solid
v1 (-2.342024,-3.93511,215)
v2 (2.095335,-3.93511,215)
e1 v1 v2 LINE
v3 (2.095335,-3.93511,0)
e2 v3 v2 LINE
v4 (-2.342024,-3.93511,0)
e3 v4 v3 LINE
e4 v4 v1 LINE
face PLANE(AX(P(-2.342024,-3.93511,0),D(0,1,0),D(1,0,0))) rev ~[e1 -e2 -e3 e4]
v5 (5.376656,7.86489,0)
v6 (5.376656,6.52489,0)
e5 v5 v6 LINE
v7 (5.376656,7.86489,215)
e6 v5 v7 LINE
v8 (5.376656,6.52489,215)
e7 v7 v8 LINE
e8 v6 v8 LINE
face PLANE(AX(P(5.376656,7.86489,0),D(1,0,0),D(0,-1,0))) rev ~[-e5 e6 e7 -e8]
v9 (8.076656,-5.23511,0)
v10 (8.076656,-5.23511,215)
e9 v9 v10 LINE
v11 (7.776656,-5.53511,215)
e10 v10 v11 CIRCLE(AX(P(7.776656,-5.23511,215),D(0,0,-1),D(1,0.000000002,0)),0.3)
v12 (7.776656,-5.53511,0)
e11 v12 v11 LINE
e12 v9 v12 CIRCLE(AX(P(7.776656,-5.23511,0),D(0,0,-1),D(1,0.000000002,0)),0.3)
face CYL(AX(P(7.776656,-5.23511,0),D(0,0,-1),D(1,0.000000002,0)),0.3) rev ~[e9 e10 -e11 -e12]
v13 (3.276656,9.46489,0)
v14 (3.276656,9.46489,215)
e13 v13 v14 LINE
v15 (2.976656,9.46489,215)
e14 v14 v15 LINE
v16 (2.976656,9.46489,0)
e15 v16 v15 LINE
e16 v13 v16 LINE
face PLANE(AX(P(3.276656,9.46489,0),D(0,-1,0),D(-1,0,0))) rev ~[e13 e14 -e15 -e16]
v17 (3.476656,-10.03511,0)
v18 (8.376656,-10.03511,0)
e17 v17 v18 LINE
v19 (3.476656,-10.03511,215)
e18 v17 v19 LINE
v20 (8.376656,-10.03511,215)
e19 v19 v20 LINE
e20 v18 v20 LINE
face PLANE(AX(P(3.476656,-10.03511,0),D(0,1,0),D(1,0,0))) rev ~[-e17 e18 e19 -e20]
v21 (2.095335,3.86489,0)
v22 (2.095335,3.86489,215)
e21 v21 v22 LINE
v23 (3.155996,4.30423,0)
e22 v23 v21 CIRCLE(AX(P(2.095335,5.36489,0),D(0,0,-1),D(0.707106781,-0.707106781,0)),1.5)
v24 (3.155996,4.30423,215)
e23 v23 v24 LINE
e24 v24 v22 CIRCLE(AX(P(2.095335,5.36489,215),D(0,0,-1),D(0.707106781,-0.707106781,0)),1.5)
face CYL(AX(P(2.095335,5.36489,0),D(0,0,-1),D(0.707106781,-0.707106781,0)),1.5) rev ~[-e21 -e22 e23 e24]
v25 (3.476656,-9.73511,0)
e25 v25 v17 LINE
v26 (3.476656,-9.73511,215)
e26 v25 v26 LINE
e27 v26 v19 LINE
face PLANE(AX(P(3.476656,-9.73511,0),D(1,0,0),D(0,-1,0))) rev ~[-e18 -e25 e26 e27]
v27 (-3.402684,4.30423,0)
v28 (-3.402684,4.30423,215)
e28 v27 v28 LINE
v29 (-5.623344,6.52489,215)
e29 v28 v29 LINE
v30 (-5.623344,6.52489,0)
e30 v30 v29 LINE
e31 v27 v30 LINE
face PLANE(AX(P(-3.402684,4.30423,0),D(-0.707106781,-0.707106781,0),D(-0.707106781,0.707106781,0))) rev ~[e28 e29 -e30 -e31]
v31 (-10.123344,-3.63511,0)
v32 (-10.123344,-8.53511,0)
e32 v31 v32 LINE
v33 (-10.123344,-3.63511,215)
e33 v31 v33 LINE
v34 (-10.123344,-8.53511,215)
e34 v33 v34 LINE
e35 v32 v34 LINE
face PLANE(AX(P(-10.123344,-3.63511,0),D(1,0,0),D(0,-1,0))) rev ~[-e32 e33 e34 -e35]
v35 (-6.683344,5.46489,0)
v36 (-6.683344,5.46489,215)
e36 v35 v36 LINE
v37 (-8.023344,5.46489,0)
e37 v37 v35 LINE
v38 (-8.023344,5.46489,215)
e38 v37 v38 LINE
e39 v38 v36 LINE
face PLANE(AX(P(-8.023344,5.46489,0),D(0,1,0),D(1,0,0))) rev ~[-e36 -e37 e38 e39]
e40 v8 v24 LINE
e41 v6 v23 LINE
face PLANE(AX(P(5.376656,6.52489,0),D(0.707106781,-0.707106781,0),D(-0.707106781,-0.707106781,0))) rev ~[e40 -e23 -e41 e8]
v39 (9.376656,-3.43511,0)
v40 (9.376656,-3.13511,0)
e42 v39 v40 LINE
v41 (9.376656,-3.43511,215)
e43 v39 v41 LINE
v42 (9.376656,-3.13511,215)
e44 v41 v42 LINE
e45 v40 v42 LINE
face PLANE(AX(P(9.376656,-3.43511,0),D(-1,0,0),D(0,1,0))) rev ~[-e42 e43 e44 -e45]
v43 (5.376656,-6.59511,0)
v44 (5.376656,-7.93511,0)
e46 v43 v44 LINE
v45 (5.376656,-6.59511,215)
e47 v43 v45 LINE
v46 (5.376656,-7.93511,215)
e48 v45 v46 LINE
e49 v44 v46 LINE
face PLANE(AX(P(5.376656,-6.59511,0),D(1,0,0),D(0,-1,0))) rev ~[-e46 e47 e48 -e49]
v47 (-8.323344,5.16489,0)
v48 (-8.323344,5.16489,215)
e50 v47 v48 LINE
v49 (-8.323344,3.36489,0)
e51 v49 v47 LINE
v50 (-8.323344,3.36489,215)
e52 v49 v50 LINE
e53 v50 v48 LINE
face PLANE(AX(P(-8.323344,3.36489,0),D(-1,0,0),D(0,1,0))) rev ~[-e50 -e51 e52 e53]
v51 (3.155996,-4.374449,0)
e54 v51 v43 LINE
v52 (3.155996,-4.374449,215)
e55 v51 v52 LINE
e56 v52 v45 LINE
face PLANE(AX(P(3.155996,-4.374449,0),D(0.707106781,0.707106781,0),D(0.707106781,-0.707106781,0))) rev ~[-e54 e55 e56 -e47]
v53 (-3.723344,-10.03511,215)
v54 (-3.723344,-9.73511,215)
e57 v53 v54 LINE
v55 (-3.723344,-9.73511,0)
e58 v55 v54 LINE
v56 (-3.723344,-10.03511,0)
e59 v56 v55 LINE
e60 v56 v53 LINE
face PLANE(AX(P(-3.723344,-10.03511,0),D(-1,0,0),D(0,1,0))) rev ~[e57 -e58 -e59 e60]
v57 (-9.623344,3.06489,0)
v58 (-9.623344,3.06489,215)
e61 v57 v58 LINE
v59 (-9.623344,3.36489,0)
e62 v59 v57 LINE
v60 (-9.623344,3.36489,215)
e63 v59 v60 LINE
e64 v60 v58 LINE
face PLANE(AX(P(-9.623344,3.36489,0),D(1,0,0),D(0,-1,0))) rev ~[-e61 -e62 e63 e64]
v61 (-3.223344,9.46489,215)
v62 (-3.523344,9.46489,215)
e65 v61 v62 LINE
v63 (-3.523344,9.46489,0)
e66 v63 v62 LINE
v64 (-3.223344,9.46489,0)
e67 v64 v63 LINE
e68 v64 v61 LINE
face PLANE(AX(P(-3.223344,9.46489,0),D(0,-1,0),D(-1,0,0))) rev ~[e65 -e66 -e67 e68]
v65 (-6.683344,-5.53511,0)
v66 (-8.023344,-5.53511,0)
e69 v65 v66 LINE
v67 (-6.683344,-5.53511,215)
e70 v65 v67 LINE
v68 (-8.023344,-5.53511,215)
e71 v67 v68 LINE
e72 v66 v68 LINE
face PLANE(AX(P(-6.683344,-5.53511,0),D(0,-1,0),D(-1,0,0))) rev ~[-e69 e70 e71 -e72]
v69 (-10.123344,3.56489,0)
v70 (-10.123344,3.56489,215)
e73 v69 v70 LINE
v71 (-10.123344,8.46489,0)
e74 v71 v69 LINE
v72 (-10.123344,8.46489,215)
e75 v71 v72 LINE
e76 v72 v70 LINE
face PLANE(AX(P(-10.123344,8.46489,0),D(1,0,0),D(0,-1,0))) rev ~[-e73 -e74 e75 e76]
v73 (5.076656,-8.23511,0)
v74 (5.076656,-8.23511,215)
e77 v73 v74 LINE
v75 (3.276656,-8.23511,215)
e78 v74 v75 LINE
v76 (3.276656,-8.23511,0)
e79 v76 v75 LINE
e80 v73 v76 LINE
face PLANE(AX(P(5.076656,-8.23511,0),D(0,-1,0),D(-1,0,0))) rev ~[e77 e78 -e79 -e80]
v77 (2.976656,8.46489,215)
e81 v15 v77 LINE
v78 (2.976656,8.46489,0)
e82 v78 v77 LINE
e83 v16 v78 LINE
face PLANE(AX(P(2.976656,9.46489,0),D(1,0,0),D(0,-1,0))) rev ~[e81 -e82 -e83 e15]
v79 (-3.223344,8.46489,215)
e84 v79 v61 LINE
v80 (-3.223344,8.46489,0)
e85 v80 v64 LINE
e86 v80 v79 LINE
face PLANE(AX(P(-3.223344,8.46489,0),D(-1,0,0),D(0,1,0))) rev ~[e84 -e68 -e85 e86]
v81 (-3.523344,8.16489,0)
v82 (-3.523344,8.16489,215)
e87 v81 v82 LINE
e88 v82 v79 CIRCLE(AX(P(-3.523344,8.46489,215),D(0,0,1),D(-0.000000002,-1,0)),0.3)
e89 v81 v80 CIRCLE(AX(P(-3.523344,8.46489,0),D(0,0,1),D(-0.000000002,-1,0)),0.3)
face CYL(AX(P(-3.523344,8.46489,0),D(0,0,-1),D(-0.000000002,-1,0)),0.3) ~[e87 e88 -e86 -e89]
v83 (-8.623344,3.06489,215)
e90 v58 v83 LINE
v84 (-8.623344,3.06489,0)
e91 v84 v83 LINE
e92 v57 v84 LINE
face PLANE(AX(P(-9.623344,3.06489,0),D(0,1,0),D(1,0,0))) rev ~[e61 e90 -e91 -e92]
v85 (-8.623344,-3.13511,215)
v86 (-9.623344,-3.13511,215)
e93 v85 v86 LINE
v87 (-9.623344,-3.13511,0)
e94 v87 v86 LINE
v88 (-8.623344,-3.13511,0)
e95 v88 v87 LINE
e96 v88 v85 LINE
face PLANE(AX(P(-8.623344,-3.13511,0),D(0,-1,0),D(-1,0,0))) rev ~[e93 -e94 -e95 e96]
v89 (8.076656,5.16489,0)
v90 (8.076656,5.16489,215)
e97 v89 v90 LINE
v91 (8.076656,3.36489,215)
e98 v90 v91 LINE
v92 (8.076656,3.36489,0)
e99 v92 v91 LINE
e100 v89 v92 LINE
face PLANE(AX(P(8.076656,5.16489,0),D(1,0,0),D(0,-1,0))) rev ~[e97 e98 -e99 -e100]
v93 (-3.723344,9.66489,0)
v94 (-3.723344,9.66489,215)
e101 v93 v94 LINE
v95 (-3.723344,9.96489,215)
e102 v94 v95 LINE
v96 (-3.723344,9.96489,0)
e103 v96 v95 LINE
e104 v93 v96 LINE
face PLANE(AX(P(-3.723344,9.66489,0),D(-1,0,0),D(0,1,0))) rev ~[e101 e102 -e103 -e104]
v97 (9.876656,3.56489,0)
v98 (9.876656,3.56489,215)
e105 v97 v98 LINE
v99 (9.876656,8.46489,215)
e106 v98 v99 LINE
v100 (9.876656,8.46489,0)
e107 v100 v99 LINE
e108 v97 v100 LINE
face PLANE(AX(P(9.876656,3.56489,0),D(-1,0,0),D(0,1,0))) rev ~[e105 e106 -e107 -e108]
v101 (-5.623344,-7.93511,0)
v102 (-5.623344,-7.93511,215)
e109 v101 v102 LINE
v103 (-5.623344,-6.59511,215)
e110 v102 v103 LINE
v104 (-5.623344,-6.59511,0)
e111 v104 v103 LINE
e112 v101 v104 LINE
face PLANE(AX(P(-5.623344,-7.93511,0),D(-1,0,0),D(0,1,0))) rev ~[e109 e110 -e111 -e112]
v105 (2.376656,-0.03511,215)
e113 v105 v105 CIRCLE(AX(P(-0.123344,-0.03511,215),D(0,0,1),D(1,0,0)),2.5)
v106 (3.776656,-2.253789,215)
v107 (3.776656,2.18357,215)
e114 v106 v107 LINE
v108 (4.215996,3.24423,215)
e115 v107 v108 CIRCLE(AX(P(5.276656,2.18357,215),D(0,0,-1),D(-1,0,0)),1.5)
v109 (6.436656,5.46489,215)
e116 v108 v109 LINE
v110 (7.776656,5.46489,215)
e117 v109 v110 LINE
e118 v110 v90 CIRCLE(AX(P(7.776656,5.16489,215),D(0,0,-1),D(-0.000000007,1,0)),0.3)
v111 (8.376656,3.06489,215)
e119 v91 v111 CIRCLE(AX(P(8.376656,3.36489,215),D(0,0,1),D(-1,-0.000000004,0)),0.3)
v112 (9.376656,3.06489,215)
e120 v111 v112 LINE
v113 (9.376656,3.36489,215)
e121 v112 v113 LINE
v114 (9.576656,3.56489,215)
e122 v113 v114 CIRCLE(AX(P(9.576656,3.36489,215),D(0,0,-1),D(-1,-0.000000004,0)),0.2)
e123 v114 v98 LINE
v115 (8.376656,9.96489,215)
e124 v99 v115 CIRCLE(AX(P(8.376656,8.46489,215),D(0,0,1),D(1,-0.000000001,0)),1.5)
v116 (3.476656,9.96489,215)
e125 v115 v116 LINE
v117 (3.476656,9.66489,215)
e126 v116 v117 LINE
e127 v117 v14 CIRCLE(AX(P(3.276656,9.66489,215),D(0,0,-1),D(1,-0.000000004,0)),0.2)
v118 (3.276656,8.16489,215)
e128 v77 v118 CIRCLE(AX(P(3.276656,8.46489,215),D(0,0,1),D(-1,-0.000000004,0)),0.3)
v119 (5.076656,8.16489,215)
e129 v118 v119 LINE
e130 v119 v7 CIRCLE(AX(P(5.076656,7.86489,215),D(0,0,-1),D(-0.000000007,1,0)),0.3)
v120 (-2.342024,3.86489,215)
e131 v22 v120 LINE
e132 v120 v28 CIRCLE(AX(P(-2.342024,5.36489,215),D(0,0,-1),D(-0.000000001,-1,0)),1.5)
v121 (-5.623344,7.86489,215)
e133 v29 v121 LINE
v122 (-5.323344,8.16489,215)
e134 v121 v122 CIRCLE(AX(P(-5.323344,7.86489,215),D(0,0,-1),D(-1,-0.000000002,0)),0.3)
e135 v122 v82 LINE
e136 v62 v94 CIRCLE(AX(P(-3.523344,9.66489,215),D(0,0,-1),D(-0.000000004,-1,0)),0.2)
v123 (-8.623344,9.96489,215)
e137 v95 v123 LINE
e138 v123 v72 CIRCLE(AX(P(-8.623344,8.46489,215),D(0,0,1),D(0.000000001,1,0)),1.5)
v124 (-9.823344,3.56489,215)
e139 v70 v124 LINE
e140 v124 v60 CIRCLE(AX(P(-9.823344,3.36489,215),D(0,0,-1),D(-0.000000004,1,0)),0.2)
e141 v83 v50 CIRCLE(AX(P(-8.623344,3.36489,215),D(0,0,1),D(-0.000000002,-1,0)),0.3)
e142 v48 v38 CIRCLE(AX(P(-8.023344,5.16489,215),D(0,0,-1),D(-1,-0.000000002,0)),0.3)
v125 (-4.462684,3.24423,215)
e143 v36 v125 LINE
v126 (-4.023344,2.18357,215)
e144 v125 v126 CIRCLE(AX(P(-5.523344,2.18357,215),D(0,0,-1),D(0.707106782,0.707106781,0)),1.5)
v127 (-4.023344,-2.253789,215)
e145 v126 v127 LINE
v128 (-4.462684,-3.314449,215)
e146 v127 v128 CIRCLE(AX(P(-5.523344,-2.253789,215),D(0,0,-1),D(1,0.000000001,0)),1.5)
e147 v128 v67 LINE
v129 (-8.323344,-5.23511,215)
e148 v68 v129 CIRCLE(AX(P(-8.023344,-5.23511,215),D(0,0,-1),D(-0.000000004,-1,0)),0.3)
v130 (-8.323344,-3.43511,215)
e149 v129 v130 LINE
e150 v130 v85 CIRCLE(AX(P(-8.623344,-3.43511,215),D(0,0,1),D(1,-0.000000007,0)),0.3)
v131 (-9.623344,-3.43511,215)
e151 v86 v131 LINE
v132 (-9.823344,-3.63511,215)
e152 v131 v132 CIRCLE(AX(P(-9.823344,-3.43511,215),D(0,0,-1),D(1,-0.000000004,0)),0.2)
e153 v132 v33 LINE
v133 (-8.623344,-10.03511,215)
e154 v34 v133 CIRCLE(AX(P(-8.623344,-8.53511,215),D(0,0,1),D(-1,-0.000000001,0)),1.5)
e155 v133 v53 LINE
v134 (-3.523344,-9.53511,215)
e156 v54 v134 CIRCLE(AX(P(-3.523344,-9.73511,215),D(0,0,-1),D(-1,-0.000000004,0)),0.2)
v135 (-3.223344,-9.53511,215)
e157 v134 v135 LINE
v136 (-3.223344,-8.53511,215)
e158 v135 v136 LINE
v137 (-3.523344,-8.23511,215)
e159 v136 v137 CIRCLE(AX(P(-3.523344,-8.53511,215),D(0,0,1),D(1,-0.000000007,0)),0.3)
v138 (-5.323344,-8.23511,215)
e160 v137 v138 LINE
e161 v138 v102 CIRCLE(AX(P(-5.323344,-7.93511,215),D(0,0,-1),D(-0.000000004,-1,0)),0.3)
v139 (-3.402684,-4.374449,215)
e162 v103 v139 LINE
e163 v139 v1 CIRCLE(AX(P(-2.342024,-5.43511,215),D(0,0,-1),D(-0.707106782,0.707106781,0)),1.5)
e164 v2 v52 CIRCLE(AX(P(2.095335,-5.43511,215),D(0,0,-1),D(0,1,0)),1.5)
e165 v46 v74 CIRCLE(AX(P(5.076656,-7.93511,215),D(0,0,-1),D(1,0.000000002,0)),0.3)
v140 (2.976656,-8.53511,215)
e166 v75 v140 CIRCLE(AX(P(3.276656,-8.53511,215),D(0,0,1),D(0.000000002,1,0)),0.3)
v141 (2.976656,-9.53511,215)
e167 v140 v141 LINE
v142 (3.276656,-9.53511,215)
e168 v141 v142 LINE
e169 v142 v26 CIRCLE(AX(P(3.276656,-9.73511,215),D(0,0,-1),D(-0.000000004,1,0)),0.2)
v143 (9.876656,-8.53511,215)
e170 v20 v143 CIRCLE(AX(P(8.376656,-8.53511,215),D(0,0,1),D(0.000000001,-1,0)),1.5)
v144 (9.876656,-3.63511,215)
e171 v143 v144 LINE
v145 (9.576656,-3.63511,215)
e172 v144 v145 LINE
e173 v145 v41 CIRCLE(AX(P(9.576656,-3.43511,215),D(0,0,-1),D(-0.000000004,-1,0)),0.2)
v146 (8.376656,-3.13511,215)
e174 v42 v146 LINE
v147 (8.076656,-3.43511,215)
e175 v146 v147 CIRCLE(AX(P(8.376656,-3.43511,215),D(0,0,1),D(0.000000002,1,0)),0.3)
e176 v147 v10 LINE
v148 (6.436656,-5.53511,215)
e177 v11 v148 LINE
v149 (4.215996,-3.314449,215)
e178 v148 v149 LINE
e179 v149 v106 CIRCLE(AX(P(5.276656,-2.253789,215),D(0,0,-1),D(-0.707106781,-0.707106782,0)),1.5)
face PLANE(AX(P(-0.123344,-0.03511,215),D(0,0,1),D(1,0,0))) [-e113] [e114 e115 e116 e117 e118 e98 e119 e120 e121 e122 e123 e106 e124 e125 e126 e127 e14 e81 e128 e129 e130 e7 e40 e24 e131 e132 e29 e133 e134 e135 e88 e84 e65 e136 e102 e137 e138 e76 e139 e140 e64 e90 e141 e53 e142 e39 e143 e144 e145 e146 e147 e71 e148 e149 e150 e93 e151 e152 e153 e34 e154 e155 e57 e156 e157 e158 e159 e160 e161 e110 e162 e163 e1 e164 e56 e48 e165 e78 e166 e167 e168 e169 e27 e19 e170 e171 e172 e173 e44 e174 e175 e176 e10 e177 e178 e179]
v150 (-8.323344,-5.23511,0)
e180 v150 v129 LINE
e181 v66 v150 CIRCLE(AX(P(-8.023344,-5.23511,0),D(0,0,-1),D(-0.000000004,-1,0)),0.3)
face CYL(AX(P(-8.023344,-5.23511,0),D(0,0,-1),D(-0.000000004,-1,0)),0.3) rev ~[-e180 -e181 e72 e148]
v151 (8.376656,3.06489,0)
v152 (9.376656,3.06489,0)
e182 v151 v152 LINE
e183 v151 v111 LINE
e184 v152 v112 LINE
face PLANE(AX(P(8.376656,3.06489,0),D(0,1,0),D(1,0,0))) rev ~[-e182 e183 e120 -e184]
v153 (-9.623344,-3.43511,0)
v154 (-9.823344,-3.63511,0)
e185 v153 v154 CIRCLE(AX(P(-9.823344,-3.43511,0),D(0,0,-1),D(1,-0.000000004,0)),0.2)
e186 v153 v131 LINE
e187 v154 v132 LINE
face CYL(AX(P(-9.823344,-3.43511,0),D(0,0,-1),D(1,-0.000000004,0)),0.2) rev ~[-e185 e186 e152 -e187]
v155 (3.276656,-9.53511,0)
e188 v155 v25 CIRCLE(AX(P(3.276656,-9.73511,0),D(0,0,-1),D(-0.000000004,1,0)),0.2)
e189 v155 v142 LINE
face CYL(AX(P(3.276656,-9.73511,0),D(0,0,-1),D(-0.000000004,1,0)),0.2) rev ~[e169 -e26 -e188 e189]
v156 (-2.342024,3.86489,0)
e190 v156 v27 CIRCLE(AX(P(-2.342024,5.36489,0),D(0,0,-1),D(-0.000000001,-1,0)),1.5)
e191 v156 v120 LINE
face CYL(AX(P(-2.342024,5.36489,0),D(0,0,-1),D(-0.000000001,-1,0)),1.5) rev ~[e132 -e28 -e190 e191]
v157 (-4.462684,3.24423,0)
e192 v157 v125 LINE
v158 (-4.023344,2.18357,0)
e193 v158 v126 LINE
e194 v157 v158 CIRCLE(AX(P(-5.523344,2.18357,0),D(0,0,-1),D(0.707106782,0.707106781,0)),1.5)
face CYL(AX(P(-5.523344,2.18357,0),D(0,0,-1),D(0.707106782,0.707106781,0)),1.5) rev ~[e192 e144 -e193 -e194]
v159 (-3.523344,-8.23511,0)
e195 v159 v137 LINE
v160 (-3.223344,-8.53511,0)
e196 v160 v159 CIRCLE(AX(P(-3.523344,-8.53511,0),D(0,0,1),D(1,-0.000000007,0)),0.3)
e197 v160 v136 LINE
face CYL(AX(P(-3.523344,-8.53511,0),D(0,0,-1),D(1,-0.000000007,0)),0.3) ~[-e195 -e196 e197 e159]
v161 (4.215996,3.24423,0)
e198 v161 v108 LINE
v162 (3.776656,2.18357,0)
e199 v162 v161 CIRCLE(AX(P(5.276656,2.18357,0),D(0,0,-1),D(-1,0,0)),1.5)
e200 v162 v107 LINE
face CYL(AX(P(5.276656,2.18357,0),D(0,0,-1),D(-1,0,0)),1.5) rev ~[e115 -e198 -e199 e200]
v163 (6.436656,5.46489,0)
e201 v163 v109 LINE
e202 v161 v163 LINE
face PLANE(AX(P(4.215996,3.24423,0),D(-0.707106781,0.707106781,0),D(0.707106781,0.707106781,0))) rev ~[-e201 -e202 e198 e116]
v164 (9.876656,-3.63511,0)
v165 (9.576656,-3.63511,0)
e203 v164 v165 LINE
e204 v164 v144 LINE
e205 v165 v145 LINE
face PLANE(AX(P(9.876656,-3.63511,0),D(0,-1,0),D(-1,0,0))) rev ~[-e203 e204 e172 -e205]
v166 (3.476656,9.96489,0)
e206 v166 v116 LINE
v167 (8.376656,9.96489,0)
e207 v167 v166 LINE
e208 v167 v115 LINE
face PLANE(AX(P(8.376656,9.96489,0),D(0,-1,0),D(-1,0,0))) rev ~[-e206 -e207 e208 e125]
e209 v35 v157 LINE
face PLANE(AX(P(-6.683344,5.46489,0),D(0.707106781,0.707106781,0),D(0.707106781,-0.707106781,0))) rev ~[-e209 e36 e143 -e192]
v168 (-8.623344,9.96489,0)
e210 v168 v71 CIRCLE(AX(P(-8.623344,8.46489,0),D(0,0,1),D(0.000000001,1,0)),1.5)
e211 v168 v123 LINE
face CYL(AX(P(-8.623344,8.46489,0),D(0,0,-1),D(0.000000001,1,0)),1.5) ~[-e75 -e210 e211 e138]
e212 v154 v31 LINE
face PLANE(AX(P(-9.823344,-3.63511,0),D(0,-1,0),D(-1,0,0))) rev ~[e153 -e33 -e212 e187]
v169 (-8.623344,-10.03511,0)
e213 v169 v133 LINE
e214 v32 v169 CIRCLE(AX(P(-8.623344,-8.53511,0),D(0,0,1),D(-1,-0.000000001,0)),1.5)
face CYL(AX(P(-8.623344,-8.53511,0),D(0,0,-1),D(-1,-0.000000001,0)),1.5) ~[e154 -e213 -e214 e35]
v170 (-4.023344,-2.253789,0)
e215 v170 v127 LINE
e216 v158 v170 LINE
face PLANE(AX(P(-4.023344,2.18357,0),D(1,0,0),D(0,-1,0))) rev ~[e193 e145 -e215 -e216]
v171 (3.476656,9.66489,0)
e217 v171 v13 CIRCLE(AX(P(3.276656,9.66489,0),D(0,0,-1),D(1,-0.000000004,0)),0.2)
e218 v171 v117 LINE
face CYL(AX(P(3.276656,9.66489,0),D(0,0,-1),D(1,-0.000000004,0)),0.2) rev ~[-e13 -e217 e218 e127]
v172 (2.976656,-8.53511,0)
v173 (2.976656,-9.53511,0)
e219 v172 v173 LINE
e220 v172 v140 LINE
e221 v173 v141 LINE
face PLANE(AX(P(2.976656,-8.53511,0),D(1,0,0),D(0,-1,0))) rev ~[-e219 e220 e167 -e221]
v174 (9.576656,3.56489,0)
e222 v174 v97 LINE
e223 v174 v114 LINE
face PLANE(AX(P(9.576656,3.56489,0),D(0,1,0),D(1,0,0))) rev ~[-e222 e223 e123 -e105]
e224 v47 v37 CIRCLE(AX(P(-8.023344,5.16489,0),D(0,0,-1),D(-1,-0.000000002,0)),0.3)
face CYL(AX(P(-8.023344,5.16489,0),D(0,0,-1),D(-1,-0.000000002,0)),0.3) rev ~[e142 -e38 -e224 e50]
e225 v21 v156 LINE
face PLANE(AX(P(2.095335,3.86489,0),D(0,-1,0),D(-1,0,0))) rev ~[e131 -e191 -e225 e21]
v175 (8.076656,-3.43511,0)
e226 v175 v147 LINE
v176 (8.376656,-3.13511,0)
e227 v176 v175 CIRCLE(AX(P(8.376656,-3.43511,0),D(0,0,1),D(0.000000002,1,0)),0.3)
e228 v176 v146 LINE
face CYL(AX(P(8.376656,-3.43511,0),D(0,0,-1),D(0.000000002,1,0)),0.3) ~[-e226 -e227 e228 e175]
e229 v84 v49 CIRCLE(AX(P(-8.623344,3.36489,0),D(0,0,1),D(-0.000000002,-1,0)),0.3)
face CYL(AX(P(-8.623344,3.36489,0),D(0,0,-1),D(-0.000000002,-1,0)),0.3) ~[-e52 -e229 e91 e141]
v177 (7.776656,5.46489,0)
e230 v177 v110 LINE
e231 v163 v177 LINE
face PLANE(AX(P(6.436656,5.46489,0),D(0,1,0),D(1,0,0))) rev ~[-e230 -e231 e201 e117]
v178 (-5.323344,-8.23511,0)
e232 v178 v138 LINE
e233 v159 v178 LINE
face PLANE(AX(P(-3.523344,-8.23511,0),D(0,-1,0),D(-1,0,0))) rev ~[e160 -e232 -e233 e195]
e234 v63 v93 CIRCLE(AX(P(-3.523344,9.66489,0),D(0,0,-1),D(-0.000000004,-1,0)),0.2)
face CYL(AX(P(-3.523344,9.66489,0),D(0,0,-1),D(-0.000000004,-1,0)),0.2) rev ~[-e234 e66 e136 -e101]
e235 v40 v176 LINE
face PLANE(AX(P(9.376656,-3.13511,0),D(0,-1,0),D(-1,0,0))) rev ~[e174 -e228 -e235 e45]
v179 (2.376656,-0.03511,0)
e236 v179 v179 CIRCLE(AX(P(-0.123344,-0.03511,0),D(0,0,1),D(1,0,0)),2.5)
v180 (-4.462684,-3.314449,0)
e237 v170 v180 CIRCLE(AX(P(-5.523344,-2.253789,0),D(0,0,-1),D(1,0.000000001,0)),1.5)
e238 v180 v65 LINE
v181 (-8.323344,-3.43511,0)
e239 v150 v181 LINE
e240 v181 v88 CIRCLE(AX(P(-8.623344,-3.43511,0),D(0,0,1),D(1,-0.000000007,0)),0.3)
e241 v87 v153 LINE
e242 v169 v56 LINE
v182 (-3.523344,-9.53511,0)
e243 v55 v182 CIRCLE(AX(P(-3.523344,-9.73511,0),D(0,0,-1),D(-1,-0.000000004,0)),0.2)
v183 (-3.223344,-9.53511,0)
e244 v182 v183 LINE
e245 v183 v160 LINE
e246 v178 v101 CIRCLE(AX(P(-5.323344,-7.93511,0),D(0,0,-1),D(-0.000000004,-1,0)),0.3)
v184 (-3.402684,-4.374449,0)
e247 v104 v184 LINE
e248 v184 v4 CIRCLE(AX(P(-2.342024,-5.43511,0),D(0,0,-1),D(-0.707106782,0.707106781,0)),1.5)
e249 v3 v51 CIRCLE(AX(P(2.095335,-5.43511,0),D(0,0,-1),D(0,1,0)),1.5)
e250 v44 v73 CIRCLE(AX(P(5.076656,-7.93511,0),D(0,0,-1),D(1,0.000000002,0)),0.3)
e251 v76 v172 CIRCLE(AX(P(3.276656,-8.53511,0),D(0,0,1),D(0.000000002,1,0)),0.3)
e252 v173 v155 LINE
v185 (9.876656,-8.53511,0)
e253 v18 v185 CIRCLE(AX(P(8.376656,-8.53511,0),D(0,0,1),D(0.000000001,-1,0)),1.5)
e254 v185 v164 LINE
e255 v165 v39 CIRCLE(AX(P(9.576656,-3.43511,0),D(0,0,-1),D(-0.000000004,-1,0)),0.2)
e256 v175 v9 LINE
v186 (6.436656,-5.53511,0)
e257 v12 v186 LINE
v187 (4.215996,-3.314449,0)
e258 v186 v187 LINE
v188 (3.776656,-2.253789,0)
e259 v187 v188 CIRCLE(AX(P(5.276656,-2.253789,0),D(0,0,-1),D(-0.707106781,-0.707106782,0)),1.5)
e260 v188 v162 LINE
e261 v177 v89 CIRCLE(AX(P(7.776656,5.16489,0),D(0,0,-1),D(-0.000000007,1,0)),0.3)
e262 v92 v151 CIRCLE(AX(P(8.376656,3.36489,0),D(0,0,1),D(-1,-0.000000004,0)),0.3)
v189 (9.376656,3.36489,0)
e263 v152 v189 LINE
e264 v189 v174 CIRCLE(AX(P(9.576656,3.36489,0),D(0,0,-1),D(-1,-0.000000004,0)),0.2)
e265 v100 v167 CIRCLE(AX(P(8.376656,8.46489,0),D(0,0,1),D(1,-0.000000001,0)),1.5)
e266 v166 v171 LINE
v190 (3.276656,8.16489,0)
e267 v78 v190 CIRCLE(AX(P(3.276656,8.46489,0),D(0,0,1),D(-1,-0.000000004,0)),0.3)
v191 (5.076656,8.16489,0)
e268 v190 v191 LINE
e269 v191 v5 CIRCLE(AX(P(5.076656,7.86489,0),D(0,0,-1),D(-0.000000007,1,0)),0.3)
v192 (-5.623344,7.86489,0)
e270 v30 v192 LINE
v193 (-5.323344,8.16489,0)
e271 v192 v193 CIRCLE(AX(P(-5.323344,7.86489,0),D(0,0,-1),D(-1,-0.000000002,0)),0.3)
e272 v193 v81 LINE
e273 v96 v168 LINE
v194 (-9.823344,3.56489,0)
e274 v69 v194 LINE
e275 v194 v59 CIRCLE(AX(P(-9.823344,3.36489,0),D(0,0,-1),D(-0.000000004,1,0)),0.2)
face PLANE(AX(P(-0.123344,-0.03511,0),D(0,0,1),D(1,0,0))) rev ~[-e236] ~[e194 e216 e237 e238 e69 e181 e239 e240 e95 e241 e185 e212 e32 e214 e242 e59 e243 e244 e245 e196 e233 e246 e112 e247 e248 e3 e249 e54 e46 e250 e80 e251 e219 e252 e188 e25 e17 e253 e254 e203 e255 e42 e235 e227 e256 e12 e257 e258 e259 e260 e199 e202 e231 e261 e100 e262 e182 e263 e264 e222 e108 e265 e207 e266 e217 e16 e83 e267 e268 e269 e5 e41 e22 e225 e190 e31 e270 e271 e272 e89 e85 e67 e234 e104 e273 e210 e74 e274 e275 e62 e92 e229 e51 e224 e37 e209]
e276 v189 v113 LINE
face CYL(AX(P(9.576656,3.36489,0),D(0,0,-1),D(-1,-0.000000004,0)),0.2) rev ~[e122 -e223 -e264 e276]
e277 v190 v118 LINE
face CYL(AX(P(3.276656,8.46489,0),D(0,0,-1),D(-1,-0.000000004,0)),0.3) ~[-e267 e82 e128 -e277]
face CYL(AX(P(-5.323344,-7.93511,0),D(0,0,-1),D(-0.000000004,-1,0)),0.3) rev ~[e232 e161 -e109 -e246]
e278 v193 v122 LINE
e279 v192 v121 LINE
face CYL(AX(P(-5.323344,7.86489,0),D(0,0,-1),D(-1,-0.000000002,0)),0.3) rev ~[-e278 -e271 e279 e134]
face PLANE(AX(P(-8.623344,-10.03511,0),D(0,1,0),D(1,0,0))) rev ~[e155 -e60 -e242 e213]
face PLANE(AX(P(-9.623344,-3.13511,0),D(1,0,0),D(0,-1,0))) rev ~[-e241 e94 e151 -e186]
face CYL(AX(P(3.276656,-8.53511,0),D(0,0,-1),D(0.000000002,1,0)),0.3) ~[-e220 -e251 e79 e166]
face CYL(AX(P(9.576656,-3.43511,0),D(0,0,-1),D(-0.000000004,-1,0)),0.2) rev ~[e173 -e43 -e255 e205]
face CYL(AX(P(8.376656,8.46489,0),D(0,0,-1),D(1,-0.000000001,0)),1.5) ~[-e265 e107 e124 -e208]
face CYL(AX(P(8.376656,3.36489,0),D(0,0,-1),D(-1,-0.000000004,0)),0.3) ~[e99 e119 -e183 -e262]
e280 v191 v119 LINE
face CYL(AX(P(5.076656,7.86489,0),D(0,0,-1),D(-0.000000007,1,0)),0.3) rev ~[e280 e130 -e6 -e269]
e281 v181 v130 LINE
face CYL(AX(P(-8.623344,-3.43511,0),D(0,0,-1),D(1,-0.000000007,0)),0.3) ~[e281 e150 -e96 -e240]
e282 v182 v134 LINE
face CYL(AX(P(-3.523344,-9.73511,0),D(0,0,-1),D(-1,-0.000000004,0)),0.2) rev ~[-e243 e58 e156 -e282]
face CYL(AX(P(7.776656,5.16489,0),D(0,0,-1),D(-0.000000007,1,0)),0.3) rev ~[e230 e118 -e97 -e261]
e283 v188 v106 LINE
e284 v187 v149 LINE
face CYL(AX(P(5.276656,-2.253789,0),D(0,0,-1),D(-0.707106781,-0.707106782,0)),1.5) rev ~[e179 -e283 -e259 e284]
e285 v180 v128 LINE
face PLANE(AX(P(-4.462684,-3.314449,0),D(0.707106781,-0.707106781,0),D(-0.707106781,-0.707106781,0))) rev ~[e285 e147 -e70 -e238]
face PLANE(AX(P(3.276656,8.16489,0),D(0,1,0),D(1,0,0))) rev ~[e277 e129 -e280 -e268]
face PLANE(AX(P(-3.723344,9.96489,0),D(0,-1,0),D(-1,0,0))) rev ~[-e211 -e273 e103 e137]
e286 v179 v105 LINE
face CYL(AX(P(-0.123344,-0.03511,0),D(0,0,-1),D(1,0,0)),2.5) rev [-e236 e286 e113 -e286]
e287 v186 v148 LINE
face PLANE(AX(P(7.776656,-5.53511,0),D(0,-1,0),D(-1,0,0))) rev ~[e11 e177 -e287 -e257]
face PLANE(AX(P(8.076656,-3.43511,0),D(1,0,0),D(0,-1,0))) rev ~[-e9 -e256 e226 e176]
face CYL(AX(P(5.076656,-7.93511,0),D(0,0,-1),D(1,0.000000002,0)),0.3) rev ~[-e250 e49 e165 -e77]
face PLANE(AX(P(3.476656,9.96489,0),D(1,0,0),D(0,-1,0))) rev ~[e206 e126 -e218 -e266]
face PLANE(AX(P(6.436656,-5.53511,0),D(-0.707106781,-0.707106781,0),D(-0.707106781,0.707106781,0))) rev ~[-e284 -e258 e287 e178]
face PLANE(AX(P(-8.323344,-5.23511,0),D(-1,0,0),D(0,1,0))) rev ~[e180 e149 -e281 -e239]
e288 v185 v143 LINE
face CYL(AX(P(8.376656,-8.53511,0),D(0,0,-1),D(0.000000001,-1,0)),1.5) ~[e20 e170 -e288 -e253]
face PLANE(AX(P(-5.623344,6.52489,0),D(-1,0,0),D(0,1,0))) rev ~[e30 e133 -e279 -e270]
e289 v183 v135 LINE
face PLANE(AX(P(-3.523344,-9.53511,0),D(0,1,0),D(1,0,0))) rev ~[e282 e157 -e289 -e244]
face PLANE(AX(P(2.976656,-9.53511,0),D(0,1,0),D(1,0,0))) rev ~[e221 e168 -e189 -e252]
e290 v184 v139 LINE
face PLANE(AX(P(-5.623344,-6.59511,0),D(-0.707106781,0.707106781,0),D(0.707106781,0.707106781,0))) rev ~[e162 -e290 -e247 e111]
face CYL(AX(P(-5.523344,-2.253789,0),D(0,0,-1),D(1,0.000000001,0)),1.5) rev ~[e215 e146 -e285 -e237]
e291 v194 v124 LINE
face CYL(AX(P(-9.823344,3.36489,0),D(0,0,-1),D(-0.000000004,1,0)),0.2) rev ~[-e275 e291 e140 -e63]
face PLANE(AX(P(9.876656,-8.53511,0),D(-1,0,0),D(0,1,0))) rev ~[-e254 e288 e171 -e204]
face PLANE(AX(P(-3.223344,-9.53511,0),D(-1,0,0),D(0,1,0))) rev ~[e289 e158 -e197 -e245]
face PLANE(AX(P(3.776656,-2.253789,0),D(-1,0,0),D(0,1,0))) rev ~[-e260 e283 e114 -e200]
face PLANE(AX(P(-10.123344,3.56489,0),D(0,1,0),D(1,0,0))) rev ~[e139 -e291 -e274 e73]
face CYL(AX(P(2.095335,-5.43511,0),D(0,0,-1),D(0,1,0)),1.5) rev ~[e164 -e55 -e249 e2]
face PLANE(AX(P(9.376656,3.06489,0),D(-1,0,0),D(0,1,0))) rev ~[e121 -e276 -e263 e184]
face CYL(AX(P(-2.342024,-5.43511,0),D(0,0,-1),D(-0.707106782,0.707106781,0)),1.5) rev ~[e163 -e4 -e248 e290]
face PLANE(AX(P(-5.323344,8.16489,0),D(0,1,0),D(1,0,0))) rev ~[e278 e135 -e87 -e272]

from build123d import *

# Parameters (mm, degrees)
SKETCH_1_R      = 2.5
EXTRUDE_1_DEPTH = 215


with BuildPart() as part:
    # 草图1 → 凸台-拉伸1 (new body)
    with BuildSketch(Plane.XY):
        with BuildLine():
            Line((4.215995631, 3.244230202), (6.436655803, 5.464890373))
            Line((6.436655803, 5.464890373), (7.776655803, 5.464890373))
            ThreePointArc((7.776655803, 5.464890373), (7.988787838, 5.377022408), (8.076655803, 5.164890373))
            Line((8.076655803, 5.164890373), (8.076655803, 3.364890373))
            ThreePointArc((8.076655803, 3.364890373), (8.164523769, 3.152758339), (8.376655803, 3.064890373))
            Line((8.376655803, 3.064890373), (9.376655803, 3.064890373))
            Line((9.376655803, 3.064890373), (9.376655803, 3.364890373))
            ThreePointArc((9.376655803, 3.364890373), (9.435234447, 3.50631173), (9.576655803, 3.564890373))
            Line((9.576655803, 3.564890373), (9.876655803, 3.564890373))
            Line((9.876655803, 3.564890373), (9.876655803, 8.464890373))
            ThreePointArc((9.876655803, 8.464890373), (9.437315975, 9.525550545), (8.376655803, 9.964890373))
            Line((8.376655803, 9.964890373), (3.476655803, 9.964890373))
            Line((3.476655803, 9.964890373), (3.476655803, 9.664890373))
            ThreePointArc((3.476655803, 9.664890373), (3.418077159, 9.523469017), (3.276655803, 9.464890373))
            Line((3.276655803, 9.464890373), (2.976655803, 9.464890373))
            Line((2.976655803, 9.464890373), (2.976655803, 8.464890373))
            ThreePointArc((2.976655803, 8.464890373), (3.064523769, 8.252758339), (3.276655803, 8.164890373))
            Line((3.276655803, 8.164890373), (5.076655803, 8.164890373))
            ThreePointArc((5.076655803, 8.164890373), (5.288787838, 8.077022408), (5.376655803, 7.864890373))
            Line((5.376655803, 7.864890373), (5.376655803, 6.524890373))
            Line((5.376655803, 6.524890373), (3.155995631, 4.304230202))
            ThreePointArc((3.155995631, 4.304230202), (2.669360608, 3.979071075), (2.09533546, 3.864890373))
            Line((2.09533546, 3.864890373), (-2.342023853, 3.864890373))
            ThreePointArc((-2.342023853, 3.864890373), (-2.916049002, 3.979071075), (-3.402684025, 4.304230202))
            Line((-3.402684025, 4.304230202), (-5.623344197, 6.524890373))
            Line((-5.623344197, 6.524890373), (-5.623344197, 7.864890373))
            ThreePointArc((-5.623344197, 7.864890373), (-5.535476231, 8.077022408), (-5.323344197, 8.164890373))
            Line((-5.323344197, 8.164890373), (-3.523344197, 8.164890373))
            ThreePointArc((-3.523344197, 8.164890373), (-3.311212162, 8.252758339), (-3.223344197, 8.464890373))
            Line((-3.223344197, 8.464890373), (-3.223344197, 9.464890373))
            Line((-3.223344197, 9.464890373), (-3.523344197, 9.464890373))
            ThreePointArc((-3.523344197, 9.464890373), (-3.664765553, 9.523469017), (-3.723344197, 9.664890373))
            Line((-3.723344197, 9.664890373), (-3.723344197, 9.964890373))
            Line((-3.723344197, 9.964890373), (-8.623344197, 9.964890373))
            ThreePointArc((-8.623344197, 9.964890373), (-9.684004369, 9.525550545), (-10.123344197, 8.464890373))
            Line((-10.123344197, 8.464890373), (-10.123344197, 3.564890373))
            Line((-10.123344197, 3.564890373), (-9.823344197, 3.564890373))
            ThreePointArc((-9.823344197, 3.564890373), (-9.681922841, 3.50631173), (-9.623344197, 3.364890373))
            Line((-9.623344197, 3.364890373), (-9.623344197, 3.064890373))
            Line((-9.623344197, 3.064890373), (-8.623344197, 3.064890373))
            ThreePointArc((-8.623344197, 3.064890373), (-8.411212162, 3.152758339), (-8.323344197, 3.364890373))
            Line((-8.323344197, 3.364890373), (-8.323344197, 5.164890373))
            ThreePointArc((-8.323344197, 5.164890373), (-8.235476231, 5.377022408), (-8.023344197, 5.464890373))
            Line((-8.023344197, 5.464890373), (-6.683344197, 5.464890373))
            Line((-6.683344197, 5.464890373), (-4.462684025, 3.244230202))
            ThreePointArc((-4.462684025, 3.244230202), (-4.137524898, 2.757595178), (-4.023344197, 2.18357003))
            Line((-4.023344197, 2.18357003), (-4.023344197, -2.253789283))
            ThreePointArc((-4.023344197, -2.253789283), (-4.137524898, -2.827814432), (-4.462684025, -3.314449455))
            Line((-4.462684025, -3.314449455), (-6.683344197, -5.535109627))
            Line((-6.683344197, -5.535109627), (-8.023344197, -5.535109627))
            ThreePointArc((-8.023344197, -5.535109627), (-8.235476231, -5.447241661), (-8.323344197, -5.235109627))
            Line((-8.323344197, -5.235109627), (-8.323344197, -3.435109627))
            ThreePointArc((-8.323344197, -3.435109627), (-8.411212162, -3.222977592), (-8.623344197, -3.135109627))
            Line((-8.623344197, -3.135109627), (-9.623344197, -3.135109627))
            Line((-9.623344197, -3.135109627), (-9.623344197, -3.435109627))
            ThreePointArc((-9.623344197, -3.435109627), (-9.681922841, -3.576530983), (-9.823344197, -3.635109627))
            Line((-9.823344197, -3.635109627), (-10.123344197, -3.635109627))
            Line((-10.123344197, -3.635109627), (-10.123344197, -8.535109627))
            ThreePointArc((-10.123344197, -8.535109627), (-9.684004369, -9.595769798), (-8.623344197, -10.035109627))
            Line((-8.623344197, -10.035109627), (-3.723344197, -10.035109627))
            Line((-3.723344197, -10.035109627), (-3.723344197, -9.735109627))
            ThreePointArc((-3.723344197, -9.735109627), (-3.664765553, -9.59368827), (-3.523344197, -9.535109627))
            Line((-3.523344197, -9.535109627), (-3.223344197, -9.535109627))
            Line((-3.223344197, -9.535109627), (-3.223344197, -8.535109627))
            ThreePointArc((-3.223344197, -8.535109627), (-3.311212162, -8.322977592), (-3.523344197, -8.235109627))
            Line((-3.523344197, -8.235109627), (-5.323344197, -8.235109627))
            ThreePointArc((-5.323344197, -8.235109627), (-5.535476231, -8.147241661), (-5.623344197, -7.935109627))
            Line((-5.623344197, -7.935109627), (-5.623344197, -6.595109627))
            Line((-5.623344197, -6.595109627), (-3.402684025, -4.374449455))
            ThreePointArc((-3.402684025, -4.374449455), (-2.916049002, -4.049290328), (-2.342023853, -3.935109627))
            Line((-2.342023853, -3.935109627), (2.09533546, -3.935109627))
            ThreePointArc((2.09533546, -3.935109627), (2.669360608, -4.049290328), (3.155995631, -4.374449455))
            Line((3.155995631, -4.374449455), (5.376655803, -6.595109627))
            Line((5.376655803, -6.595109627), (5.376655803, -7.935109627))
            ThreePointArc((5.376655803, -7.935109627), (5.288787838, -8.147241661), (5.076655803, -8.235109627))
            Line((5.076655803, -8.235109627), (3.276655803, -8.235109627))
            ThreePointArc((3.276655803, -8.235109627), (3.064523769, -8.322977592), (2.976655803, -8.535109627))
            Line((2.976655803, -8.535109627), (2.976655803, -9.535109627))
            Line((2.976655803, -9.535109627), (3.276655803, -9.535109627))
            ThreePointArc((3.276655803, -9.535109627), (3.418077159, -9.59368827), (3.476655803, -9.735109627))
            Line((3.476655803, -9.735109627), (3.476655803, -10.035109627))
            Line((3.476655803, -10.035109627), (8.376655803, -10.035109627))
            ThreePointArc((8.376655803, -10.035109627), (9.437315975, -9.595769798), (9.876655803, -8.535109627))
            Line((9.876655803, -8.535109627), (9.876655803, -3.635109627))
            Line((9.876655803, -3.635109627), (9.576655803, -3.635109627))
            ThreePointArc((9.576655803, -3.635109627), (9.435234447, -3.576530983), (9.376655803, -3.435109627))
            Line((9.376655803, -3.435109627), (9.376655803, -3.135109627))
            Line((9.376655803, -3.135109627), (8.376655803, -3.135109627))
            ThreePointArc((8.376655803, -3.135109627), (8.164523769, -3.222977592), (8.076655803, -3.435109627))
            Line((8.076655803, -3.435109627), (8.076655803, -5.235109627))
            ThreePointArc((8.076655803, -5.235109627), (7.988787838, -5.447241661), (7.776655803, -5.535109627))
            Line((7.776655803, -5.535109627), (6.436655803, -5.535109627))
            Line((6.436655803, -5.535109627), (4.215995631, -3.314449455))
            ThreePointArc((4.215995631, -3.314449455), (3.890836504, -2.827814432), (3.776655803, -2.253789283))
            Line((3.776655803, -2.253789283), (3.776655803, 2.18357003))
            ThreePointArc((3.776655803, 2.18357003), (3.890836504, 2.757595178), (4.215995631, 3.244230202))
        make_face()
        with Locations((-0.123344197, -0.035109627)):
            Circle(SKETCH_1_R, mode=Mode.SUBTRACT)
    extrude(amount=EXTRUDE_1_DEPTH)


solid = part.part
